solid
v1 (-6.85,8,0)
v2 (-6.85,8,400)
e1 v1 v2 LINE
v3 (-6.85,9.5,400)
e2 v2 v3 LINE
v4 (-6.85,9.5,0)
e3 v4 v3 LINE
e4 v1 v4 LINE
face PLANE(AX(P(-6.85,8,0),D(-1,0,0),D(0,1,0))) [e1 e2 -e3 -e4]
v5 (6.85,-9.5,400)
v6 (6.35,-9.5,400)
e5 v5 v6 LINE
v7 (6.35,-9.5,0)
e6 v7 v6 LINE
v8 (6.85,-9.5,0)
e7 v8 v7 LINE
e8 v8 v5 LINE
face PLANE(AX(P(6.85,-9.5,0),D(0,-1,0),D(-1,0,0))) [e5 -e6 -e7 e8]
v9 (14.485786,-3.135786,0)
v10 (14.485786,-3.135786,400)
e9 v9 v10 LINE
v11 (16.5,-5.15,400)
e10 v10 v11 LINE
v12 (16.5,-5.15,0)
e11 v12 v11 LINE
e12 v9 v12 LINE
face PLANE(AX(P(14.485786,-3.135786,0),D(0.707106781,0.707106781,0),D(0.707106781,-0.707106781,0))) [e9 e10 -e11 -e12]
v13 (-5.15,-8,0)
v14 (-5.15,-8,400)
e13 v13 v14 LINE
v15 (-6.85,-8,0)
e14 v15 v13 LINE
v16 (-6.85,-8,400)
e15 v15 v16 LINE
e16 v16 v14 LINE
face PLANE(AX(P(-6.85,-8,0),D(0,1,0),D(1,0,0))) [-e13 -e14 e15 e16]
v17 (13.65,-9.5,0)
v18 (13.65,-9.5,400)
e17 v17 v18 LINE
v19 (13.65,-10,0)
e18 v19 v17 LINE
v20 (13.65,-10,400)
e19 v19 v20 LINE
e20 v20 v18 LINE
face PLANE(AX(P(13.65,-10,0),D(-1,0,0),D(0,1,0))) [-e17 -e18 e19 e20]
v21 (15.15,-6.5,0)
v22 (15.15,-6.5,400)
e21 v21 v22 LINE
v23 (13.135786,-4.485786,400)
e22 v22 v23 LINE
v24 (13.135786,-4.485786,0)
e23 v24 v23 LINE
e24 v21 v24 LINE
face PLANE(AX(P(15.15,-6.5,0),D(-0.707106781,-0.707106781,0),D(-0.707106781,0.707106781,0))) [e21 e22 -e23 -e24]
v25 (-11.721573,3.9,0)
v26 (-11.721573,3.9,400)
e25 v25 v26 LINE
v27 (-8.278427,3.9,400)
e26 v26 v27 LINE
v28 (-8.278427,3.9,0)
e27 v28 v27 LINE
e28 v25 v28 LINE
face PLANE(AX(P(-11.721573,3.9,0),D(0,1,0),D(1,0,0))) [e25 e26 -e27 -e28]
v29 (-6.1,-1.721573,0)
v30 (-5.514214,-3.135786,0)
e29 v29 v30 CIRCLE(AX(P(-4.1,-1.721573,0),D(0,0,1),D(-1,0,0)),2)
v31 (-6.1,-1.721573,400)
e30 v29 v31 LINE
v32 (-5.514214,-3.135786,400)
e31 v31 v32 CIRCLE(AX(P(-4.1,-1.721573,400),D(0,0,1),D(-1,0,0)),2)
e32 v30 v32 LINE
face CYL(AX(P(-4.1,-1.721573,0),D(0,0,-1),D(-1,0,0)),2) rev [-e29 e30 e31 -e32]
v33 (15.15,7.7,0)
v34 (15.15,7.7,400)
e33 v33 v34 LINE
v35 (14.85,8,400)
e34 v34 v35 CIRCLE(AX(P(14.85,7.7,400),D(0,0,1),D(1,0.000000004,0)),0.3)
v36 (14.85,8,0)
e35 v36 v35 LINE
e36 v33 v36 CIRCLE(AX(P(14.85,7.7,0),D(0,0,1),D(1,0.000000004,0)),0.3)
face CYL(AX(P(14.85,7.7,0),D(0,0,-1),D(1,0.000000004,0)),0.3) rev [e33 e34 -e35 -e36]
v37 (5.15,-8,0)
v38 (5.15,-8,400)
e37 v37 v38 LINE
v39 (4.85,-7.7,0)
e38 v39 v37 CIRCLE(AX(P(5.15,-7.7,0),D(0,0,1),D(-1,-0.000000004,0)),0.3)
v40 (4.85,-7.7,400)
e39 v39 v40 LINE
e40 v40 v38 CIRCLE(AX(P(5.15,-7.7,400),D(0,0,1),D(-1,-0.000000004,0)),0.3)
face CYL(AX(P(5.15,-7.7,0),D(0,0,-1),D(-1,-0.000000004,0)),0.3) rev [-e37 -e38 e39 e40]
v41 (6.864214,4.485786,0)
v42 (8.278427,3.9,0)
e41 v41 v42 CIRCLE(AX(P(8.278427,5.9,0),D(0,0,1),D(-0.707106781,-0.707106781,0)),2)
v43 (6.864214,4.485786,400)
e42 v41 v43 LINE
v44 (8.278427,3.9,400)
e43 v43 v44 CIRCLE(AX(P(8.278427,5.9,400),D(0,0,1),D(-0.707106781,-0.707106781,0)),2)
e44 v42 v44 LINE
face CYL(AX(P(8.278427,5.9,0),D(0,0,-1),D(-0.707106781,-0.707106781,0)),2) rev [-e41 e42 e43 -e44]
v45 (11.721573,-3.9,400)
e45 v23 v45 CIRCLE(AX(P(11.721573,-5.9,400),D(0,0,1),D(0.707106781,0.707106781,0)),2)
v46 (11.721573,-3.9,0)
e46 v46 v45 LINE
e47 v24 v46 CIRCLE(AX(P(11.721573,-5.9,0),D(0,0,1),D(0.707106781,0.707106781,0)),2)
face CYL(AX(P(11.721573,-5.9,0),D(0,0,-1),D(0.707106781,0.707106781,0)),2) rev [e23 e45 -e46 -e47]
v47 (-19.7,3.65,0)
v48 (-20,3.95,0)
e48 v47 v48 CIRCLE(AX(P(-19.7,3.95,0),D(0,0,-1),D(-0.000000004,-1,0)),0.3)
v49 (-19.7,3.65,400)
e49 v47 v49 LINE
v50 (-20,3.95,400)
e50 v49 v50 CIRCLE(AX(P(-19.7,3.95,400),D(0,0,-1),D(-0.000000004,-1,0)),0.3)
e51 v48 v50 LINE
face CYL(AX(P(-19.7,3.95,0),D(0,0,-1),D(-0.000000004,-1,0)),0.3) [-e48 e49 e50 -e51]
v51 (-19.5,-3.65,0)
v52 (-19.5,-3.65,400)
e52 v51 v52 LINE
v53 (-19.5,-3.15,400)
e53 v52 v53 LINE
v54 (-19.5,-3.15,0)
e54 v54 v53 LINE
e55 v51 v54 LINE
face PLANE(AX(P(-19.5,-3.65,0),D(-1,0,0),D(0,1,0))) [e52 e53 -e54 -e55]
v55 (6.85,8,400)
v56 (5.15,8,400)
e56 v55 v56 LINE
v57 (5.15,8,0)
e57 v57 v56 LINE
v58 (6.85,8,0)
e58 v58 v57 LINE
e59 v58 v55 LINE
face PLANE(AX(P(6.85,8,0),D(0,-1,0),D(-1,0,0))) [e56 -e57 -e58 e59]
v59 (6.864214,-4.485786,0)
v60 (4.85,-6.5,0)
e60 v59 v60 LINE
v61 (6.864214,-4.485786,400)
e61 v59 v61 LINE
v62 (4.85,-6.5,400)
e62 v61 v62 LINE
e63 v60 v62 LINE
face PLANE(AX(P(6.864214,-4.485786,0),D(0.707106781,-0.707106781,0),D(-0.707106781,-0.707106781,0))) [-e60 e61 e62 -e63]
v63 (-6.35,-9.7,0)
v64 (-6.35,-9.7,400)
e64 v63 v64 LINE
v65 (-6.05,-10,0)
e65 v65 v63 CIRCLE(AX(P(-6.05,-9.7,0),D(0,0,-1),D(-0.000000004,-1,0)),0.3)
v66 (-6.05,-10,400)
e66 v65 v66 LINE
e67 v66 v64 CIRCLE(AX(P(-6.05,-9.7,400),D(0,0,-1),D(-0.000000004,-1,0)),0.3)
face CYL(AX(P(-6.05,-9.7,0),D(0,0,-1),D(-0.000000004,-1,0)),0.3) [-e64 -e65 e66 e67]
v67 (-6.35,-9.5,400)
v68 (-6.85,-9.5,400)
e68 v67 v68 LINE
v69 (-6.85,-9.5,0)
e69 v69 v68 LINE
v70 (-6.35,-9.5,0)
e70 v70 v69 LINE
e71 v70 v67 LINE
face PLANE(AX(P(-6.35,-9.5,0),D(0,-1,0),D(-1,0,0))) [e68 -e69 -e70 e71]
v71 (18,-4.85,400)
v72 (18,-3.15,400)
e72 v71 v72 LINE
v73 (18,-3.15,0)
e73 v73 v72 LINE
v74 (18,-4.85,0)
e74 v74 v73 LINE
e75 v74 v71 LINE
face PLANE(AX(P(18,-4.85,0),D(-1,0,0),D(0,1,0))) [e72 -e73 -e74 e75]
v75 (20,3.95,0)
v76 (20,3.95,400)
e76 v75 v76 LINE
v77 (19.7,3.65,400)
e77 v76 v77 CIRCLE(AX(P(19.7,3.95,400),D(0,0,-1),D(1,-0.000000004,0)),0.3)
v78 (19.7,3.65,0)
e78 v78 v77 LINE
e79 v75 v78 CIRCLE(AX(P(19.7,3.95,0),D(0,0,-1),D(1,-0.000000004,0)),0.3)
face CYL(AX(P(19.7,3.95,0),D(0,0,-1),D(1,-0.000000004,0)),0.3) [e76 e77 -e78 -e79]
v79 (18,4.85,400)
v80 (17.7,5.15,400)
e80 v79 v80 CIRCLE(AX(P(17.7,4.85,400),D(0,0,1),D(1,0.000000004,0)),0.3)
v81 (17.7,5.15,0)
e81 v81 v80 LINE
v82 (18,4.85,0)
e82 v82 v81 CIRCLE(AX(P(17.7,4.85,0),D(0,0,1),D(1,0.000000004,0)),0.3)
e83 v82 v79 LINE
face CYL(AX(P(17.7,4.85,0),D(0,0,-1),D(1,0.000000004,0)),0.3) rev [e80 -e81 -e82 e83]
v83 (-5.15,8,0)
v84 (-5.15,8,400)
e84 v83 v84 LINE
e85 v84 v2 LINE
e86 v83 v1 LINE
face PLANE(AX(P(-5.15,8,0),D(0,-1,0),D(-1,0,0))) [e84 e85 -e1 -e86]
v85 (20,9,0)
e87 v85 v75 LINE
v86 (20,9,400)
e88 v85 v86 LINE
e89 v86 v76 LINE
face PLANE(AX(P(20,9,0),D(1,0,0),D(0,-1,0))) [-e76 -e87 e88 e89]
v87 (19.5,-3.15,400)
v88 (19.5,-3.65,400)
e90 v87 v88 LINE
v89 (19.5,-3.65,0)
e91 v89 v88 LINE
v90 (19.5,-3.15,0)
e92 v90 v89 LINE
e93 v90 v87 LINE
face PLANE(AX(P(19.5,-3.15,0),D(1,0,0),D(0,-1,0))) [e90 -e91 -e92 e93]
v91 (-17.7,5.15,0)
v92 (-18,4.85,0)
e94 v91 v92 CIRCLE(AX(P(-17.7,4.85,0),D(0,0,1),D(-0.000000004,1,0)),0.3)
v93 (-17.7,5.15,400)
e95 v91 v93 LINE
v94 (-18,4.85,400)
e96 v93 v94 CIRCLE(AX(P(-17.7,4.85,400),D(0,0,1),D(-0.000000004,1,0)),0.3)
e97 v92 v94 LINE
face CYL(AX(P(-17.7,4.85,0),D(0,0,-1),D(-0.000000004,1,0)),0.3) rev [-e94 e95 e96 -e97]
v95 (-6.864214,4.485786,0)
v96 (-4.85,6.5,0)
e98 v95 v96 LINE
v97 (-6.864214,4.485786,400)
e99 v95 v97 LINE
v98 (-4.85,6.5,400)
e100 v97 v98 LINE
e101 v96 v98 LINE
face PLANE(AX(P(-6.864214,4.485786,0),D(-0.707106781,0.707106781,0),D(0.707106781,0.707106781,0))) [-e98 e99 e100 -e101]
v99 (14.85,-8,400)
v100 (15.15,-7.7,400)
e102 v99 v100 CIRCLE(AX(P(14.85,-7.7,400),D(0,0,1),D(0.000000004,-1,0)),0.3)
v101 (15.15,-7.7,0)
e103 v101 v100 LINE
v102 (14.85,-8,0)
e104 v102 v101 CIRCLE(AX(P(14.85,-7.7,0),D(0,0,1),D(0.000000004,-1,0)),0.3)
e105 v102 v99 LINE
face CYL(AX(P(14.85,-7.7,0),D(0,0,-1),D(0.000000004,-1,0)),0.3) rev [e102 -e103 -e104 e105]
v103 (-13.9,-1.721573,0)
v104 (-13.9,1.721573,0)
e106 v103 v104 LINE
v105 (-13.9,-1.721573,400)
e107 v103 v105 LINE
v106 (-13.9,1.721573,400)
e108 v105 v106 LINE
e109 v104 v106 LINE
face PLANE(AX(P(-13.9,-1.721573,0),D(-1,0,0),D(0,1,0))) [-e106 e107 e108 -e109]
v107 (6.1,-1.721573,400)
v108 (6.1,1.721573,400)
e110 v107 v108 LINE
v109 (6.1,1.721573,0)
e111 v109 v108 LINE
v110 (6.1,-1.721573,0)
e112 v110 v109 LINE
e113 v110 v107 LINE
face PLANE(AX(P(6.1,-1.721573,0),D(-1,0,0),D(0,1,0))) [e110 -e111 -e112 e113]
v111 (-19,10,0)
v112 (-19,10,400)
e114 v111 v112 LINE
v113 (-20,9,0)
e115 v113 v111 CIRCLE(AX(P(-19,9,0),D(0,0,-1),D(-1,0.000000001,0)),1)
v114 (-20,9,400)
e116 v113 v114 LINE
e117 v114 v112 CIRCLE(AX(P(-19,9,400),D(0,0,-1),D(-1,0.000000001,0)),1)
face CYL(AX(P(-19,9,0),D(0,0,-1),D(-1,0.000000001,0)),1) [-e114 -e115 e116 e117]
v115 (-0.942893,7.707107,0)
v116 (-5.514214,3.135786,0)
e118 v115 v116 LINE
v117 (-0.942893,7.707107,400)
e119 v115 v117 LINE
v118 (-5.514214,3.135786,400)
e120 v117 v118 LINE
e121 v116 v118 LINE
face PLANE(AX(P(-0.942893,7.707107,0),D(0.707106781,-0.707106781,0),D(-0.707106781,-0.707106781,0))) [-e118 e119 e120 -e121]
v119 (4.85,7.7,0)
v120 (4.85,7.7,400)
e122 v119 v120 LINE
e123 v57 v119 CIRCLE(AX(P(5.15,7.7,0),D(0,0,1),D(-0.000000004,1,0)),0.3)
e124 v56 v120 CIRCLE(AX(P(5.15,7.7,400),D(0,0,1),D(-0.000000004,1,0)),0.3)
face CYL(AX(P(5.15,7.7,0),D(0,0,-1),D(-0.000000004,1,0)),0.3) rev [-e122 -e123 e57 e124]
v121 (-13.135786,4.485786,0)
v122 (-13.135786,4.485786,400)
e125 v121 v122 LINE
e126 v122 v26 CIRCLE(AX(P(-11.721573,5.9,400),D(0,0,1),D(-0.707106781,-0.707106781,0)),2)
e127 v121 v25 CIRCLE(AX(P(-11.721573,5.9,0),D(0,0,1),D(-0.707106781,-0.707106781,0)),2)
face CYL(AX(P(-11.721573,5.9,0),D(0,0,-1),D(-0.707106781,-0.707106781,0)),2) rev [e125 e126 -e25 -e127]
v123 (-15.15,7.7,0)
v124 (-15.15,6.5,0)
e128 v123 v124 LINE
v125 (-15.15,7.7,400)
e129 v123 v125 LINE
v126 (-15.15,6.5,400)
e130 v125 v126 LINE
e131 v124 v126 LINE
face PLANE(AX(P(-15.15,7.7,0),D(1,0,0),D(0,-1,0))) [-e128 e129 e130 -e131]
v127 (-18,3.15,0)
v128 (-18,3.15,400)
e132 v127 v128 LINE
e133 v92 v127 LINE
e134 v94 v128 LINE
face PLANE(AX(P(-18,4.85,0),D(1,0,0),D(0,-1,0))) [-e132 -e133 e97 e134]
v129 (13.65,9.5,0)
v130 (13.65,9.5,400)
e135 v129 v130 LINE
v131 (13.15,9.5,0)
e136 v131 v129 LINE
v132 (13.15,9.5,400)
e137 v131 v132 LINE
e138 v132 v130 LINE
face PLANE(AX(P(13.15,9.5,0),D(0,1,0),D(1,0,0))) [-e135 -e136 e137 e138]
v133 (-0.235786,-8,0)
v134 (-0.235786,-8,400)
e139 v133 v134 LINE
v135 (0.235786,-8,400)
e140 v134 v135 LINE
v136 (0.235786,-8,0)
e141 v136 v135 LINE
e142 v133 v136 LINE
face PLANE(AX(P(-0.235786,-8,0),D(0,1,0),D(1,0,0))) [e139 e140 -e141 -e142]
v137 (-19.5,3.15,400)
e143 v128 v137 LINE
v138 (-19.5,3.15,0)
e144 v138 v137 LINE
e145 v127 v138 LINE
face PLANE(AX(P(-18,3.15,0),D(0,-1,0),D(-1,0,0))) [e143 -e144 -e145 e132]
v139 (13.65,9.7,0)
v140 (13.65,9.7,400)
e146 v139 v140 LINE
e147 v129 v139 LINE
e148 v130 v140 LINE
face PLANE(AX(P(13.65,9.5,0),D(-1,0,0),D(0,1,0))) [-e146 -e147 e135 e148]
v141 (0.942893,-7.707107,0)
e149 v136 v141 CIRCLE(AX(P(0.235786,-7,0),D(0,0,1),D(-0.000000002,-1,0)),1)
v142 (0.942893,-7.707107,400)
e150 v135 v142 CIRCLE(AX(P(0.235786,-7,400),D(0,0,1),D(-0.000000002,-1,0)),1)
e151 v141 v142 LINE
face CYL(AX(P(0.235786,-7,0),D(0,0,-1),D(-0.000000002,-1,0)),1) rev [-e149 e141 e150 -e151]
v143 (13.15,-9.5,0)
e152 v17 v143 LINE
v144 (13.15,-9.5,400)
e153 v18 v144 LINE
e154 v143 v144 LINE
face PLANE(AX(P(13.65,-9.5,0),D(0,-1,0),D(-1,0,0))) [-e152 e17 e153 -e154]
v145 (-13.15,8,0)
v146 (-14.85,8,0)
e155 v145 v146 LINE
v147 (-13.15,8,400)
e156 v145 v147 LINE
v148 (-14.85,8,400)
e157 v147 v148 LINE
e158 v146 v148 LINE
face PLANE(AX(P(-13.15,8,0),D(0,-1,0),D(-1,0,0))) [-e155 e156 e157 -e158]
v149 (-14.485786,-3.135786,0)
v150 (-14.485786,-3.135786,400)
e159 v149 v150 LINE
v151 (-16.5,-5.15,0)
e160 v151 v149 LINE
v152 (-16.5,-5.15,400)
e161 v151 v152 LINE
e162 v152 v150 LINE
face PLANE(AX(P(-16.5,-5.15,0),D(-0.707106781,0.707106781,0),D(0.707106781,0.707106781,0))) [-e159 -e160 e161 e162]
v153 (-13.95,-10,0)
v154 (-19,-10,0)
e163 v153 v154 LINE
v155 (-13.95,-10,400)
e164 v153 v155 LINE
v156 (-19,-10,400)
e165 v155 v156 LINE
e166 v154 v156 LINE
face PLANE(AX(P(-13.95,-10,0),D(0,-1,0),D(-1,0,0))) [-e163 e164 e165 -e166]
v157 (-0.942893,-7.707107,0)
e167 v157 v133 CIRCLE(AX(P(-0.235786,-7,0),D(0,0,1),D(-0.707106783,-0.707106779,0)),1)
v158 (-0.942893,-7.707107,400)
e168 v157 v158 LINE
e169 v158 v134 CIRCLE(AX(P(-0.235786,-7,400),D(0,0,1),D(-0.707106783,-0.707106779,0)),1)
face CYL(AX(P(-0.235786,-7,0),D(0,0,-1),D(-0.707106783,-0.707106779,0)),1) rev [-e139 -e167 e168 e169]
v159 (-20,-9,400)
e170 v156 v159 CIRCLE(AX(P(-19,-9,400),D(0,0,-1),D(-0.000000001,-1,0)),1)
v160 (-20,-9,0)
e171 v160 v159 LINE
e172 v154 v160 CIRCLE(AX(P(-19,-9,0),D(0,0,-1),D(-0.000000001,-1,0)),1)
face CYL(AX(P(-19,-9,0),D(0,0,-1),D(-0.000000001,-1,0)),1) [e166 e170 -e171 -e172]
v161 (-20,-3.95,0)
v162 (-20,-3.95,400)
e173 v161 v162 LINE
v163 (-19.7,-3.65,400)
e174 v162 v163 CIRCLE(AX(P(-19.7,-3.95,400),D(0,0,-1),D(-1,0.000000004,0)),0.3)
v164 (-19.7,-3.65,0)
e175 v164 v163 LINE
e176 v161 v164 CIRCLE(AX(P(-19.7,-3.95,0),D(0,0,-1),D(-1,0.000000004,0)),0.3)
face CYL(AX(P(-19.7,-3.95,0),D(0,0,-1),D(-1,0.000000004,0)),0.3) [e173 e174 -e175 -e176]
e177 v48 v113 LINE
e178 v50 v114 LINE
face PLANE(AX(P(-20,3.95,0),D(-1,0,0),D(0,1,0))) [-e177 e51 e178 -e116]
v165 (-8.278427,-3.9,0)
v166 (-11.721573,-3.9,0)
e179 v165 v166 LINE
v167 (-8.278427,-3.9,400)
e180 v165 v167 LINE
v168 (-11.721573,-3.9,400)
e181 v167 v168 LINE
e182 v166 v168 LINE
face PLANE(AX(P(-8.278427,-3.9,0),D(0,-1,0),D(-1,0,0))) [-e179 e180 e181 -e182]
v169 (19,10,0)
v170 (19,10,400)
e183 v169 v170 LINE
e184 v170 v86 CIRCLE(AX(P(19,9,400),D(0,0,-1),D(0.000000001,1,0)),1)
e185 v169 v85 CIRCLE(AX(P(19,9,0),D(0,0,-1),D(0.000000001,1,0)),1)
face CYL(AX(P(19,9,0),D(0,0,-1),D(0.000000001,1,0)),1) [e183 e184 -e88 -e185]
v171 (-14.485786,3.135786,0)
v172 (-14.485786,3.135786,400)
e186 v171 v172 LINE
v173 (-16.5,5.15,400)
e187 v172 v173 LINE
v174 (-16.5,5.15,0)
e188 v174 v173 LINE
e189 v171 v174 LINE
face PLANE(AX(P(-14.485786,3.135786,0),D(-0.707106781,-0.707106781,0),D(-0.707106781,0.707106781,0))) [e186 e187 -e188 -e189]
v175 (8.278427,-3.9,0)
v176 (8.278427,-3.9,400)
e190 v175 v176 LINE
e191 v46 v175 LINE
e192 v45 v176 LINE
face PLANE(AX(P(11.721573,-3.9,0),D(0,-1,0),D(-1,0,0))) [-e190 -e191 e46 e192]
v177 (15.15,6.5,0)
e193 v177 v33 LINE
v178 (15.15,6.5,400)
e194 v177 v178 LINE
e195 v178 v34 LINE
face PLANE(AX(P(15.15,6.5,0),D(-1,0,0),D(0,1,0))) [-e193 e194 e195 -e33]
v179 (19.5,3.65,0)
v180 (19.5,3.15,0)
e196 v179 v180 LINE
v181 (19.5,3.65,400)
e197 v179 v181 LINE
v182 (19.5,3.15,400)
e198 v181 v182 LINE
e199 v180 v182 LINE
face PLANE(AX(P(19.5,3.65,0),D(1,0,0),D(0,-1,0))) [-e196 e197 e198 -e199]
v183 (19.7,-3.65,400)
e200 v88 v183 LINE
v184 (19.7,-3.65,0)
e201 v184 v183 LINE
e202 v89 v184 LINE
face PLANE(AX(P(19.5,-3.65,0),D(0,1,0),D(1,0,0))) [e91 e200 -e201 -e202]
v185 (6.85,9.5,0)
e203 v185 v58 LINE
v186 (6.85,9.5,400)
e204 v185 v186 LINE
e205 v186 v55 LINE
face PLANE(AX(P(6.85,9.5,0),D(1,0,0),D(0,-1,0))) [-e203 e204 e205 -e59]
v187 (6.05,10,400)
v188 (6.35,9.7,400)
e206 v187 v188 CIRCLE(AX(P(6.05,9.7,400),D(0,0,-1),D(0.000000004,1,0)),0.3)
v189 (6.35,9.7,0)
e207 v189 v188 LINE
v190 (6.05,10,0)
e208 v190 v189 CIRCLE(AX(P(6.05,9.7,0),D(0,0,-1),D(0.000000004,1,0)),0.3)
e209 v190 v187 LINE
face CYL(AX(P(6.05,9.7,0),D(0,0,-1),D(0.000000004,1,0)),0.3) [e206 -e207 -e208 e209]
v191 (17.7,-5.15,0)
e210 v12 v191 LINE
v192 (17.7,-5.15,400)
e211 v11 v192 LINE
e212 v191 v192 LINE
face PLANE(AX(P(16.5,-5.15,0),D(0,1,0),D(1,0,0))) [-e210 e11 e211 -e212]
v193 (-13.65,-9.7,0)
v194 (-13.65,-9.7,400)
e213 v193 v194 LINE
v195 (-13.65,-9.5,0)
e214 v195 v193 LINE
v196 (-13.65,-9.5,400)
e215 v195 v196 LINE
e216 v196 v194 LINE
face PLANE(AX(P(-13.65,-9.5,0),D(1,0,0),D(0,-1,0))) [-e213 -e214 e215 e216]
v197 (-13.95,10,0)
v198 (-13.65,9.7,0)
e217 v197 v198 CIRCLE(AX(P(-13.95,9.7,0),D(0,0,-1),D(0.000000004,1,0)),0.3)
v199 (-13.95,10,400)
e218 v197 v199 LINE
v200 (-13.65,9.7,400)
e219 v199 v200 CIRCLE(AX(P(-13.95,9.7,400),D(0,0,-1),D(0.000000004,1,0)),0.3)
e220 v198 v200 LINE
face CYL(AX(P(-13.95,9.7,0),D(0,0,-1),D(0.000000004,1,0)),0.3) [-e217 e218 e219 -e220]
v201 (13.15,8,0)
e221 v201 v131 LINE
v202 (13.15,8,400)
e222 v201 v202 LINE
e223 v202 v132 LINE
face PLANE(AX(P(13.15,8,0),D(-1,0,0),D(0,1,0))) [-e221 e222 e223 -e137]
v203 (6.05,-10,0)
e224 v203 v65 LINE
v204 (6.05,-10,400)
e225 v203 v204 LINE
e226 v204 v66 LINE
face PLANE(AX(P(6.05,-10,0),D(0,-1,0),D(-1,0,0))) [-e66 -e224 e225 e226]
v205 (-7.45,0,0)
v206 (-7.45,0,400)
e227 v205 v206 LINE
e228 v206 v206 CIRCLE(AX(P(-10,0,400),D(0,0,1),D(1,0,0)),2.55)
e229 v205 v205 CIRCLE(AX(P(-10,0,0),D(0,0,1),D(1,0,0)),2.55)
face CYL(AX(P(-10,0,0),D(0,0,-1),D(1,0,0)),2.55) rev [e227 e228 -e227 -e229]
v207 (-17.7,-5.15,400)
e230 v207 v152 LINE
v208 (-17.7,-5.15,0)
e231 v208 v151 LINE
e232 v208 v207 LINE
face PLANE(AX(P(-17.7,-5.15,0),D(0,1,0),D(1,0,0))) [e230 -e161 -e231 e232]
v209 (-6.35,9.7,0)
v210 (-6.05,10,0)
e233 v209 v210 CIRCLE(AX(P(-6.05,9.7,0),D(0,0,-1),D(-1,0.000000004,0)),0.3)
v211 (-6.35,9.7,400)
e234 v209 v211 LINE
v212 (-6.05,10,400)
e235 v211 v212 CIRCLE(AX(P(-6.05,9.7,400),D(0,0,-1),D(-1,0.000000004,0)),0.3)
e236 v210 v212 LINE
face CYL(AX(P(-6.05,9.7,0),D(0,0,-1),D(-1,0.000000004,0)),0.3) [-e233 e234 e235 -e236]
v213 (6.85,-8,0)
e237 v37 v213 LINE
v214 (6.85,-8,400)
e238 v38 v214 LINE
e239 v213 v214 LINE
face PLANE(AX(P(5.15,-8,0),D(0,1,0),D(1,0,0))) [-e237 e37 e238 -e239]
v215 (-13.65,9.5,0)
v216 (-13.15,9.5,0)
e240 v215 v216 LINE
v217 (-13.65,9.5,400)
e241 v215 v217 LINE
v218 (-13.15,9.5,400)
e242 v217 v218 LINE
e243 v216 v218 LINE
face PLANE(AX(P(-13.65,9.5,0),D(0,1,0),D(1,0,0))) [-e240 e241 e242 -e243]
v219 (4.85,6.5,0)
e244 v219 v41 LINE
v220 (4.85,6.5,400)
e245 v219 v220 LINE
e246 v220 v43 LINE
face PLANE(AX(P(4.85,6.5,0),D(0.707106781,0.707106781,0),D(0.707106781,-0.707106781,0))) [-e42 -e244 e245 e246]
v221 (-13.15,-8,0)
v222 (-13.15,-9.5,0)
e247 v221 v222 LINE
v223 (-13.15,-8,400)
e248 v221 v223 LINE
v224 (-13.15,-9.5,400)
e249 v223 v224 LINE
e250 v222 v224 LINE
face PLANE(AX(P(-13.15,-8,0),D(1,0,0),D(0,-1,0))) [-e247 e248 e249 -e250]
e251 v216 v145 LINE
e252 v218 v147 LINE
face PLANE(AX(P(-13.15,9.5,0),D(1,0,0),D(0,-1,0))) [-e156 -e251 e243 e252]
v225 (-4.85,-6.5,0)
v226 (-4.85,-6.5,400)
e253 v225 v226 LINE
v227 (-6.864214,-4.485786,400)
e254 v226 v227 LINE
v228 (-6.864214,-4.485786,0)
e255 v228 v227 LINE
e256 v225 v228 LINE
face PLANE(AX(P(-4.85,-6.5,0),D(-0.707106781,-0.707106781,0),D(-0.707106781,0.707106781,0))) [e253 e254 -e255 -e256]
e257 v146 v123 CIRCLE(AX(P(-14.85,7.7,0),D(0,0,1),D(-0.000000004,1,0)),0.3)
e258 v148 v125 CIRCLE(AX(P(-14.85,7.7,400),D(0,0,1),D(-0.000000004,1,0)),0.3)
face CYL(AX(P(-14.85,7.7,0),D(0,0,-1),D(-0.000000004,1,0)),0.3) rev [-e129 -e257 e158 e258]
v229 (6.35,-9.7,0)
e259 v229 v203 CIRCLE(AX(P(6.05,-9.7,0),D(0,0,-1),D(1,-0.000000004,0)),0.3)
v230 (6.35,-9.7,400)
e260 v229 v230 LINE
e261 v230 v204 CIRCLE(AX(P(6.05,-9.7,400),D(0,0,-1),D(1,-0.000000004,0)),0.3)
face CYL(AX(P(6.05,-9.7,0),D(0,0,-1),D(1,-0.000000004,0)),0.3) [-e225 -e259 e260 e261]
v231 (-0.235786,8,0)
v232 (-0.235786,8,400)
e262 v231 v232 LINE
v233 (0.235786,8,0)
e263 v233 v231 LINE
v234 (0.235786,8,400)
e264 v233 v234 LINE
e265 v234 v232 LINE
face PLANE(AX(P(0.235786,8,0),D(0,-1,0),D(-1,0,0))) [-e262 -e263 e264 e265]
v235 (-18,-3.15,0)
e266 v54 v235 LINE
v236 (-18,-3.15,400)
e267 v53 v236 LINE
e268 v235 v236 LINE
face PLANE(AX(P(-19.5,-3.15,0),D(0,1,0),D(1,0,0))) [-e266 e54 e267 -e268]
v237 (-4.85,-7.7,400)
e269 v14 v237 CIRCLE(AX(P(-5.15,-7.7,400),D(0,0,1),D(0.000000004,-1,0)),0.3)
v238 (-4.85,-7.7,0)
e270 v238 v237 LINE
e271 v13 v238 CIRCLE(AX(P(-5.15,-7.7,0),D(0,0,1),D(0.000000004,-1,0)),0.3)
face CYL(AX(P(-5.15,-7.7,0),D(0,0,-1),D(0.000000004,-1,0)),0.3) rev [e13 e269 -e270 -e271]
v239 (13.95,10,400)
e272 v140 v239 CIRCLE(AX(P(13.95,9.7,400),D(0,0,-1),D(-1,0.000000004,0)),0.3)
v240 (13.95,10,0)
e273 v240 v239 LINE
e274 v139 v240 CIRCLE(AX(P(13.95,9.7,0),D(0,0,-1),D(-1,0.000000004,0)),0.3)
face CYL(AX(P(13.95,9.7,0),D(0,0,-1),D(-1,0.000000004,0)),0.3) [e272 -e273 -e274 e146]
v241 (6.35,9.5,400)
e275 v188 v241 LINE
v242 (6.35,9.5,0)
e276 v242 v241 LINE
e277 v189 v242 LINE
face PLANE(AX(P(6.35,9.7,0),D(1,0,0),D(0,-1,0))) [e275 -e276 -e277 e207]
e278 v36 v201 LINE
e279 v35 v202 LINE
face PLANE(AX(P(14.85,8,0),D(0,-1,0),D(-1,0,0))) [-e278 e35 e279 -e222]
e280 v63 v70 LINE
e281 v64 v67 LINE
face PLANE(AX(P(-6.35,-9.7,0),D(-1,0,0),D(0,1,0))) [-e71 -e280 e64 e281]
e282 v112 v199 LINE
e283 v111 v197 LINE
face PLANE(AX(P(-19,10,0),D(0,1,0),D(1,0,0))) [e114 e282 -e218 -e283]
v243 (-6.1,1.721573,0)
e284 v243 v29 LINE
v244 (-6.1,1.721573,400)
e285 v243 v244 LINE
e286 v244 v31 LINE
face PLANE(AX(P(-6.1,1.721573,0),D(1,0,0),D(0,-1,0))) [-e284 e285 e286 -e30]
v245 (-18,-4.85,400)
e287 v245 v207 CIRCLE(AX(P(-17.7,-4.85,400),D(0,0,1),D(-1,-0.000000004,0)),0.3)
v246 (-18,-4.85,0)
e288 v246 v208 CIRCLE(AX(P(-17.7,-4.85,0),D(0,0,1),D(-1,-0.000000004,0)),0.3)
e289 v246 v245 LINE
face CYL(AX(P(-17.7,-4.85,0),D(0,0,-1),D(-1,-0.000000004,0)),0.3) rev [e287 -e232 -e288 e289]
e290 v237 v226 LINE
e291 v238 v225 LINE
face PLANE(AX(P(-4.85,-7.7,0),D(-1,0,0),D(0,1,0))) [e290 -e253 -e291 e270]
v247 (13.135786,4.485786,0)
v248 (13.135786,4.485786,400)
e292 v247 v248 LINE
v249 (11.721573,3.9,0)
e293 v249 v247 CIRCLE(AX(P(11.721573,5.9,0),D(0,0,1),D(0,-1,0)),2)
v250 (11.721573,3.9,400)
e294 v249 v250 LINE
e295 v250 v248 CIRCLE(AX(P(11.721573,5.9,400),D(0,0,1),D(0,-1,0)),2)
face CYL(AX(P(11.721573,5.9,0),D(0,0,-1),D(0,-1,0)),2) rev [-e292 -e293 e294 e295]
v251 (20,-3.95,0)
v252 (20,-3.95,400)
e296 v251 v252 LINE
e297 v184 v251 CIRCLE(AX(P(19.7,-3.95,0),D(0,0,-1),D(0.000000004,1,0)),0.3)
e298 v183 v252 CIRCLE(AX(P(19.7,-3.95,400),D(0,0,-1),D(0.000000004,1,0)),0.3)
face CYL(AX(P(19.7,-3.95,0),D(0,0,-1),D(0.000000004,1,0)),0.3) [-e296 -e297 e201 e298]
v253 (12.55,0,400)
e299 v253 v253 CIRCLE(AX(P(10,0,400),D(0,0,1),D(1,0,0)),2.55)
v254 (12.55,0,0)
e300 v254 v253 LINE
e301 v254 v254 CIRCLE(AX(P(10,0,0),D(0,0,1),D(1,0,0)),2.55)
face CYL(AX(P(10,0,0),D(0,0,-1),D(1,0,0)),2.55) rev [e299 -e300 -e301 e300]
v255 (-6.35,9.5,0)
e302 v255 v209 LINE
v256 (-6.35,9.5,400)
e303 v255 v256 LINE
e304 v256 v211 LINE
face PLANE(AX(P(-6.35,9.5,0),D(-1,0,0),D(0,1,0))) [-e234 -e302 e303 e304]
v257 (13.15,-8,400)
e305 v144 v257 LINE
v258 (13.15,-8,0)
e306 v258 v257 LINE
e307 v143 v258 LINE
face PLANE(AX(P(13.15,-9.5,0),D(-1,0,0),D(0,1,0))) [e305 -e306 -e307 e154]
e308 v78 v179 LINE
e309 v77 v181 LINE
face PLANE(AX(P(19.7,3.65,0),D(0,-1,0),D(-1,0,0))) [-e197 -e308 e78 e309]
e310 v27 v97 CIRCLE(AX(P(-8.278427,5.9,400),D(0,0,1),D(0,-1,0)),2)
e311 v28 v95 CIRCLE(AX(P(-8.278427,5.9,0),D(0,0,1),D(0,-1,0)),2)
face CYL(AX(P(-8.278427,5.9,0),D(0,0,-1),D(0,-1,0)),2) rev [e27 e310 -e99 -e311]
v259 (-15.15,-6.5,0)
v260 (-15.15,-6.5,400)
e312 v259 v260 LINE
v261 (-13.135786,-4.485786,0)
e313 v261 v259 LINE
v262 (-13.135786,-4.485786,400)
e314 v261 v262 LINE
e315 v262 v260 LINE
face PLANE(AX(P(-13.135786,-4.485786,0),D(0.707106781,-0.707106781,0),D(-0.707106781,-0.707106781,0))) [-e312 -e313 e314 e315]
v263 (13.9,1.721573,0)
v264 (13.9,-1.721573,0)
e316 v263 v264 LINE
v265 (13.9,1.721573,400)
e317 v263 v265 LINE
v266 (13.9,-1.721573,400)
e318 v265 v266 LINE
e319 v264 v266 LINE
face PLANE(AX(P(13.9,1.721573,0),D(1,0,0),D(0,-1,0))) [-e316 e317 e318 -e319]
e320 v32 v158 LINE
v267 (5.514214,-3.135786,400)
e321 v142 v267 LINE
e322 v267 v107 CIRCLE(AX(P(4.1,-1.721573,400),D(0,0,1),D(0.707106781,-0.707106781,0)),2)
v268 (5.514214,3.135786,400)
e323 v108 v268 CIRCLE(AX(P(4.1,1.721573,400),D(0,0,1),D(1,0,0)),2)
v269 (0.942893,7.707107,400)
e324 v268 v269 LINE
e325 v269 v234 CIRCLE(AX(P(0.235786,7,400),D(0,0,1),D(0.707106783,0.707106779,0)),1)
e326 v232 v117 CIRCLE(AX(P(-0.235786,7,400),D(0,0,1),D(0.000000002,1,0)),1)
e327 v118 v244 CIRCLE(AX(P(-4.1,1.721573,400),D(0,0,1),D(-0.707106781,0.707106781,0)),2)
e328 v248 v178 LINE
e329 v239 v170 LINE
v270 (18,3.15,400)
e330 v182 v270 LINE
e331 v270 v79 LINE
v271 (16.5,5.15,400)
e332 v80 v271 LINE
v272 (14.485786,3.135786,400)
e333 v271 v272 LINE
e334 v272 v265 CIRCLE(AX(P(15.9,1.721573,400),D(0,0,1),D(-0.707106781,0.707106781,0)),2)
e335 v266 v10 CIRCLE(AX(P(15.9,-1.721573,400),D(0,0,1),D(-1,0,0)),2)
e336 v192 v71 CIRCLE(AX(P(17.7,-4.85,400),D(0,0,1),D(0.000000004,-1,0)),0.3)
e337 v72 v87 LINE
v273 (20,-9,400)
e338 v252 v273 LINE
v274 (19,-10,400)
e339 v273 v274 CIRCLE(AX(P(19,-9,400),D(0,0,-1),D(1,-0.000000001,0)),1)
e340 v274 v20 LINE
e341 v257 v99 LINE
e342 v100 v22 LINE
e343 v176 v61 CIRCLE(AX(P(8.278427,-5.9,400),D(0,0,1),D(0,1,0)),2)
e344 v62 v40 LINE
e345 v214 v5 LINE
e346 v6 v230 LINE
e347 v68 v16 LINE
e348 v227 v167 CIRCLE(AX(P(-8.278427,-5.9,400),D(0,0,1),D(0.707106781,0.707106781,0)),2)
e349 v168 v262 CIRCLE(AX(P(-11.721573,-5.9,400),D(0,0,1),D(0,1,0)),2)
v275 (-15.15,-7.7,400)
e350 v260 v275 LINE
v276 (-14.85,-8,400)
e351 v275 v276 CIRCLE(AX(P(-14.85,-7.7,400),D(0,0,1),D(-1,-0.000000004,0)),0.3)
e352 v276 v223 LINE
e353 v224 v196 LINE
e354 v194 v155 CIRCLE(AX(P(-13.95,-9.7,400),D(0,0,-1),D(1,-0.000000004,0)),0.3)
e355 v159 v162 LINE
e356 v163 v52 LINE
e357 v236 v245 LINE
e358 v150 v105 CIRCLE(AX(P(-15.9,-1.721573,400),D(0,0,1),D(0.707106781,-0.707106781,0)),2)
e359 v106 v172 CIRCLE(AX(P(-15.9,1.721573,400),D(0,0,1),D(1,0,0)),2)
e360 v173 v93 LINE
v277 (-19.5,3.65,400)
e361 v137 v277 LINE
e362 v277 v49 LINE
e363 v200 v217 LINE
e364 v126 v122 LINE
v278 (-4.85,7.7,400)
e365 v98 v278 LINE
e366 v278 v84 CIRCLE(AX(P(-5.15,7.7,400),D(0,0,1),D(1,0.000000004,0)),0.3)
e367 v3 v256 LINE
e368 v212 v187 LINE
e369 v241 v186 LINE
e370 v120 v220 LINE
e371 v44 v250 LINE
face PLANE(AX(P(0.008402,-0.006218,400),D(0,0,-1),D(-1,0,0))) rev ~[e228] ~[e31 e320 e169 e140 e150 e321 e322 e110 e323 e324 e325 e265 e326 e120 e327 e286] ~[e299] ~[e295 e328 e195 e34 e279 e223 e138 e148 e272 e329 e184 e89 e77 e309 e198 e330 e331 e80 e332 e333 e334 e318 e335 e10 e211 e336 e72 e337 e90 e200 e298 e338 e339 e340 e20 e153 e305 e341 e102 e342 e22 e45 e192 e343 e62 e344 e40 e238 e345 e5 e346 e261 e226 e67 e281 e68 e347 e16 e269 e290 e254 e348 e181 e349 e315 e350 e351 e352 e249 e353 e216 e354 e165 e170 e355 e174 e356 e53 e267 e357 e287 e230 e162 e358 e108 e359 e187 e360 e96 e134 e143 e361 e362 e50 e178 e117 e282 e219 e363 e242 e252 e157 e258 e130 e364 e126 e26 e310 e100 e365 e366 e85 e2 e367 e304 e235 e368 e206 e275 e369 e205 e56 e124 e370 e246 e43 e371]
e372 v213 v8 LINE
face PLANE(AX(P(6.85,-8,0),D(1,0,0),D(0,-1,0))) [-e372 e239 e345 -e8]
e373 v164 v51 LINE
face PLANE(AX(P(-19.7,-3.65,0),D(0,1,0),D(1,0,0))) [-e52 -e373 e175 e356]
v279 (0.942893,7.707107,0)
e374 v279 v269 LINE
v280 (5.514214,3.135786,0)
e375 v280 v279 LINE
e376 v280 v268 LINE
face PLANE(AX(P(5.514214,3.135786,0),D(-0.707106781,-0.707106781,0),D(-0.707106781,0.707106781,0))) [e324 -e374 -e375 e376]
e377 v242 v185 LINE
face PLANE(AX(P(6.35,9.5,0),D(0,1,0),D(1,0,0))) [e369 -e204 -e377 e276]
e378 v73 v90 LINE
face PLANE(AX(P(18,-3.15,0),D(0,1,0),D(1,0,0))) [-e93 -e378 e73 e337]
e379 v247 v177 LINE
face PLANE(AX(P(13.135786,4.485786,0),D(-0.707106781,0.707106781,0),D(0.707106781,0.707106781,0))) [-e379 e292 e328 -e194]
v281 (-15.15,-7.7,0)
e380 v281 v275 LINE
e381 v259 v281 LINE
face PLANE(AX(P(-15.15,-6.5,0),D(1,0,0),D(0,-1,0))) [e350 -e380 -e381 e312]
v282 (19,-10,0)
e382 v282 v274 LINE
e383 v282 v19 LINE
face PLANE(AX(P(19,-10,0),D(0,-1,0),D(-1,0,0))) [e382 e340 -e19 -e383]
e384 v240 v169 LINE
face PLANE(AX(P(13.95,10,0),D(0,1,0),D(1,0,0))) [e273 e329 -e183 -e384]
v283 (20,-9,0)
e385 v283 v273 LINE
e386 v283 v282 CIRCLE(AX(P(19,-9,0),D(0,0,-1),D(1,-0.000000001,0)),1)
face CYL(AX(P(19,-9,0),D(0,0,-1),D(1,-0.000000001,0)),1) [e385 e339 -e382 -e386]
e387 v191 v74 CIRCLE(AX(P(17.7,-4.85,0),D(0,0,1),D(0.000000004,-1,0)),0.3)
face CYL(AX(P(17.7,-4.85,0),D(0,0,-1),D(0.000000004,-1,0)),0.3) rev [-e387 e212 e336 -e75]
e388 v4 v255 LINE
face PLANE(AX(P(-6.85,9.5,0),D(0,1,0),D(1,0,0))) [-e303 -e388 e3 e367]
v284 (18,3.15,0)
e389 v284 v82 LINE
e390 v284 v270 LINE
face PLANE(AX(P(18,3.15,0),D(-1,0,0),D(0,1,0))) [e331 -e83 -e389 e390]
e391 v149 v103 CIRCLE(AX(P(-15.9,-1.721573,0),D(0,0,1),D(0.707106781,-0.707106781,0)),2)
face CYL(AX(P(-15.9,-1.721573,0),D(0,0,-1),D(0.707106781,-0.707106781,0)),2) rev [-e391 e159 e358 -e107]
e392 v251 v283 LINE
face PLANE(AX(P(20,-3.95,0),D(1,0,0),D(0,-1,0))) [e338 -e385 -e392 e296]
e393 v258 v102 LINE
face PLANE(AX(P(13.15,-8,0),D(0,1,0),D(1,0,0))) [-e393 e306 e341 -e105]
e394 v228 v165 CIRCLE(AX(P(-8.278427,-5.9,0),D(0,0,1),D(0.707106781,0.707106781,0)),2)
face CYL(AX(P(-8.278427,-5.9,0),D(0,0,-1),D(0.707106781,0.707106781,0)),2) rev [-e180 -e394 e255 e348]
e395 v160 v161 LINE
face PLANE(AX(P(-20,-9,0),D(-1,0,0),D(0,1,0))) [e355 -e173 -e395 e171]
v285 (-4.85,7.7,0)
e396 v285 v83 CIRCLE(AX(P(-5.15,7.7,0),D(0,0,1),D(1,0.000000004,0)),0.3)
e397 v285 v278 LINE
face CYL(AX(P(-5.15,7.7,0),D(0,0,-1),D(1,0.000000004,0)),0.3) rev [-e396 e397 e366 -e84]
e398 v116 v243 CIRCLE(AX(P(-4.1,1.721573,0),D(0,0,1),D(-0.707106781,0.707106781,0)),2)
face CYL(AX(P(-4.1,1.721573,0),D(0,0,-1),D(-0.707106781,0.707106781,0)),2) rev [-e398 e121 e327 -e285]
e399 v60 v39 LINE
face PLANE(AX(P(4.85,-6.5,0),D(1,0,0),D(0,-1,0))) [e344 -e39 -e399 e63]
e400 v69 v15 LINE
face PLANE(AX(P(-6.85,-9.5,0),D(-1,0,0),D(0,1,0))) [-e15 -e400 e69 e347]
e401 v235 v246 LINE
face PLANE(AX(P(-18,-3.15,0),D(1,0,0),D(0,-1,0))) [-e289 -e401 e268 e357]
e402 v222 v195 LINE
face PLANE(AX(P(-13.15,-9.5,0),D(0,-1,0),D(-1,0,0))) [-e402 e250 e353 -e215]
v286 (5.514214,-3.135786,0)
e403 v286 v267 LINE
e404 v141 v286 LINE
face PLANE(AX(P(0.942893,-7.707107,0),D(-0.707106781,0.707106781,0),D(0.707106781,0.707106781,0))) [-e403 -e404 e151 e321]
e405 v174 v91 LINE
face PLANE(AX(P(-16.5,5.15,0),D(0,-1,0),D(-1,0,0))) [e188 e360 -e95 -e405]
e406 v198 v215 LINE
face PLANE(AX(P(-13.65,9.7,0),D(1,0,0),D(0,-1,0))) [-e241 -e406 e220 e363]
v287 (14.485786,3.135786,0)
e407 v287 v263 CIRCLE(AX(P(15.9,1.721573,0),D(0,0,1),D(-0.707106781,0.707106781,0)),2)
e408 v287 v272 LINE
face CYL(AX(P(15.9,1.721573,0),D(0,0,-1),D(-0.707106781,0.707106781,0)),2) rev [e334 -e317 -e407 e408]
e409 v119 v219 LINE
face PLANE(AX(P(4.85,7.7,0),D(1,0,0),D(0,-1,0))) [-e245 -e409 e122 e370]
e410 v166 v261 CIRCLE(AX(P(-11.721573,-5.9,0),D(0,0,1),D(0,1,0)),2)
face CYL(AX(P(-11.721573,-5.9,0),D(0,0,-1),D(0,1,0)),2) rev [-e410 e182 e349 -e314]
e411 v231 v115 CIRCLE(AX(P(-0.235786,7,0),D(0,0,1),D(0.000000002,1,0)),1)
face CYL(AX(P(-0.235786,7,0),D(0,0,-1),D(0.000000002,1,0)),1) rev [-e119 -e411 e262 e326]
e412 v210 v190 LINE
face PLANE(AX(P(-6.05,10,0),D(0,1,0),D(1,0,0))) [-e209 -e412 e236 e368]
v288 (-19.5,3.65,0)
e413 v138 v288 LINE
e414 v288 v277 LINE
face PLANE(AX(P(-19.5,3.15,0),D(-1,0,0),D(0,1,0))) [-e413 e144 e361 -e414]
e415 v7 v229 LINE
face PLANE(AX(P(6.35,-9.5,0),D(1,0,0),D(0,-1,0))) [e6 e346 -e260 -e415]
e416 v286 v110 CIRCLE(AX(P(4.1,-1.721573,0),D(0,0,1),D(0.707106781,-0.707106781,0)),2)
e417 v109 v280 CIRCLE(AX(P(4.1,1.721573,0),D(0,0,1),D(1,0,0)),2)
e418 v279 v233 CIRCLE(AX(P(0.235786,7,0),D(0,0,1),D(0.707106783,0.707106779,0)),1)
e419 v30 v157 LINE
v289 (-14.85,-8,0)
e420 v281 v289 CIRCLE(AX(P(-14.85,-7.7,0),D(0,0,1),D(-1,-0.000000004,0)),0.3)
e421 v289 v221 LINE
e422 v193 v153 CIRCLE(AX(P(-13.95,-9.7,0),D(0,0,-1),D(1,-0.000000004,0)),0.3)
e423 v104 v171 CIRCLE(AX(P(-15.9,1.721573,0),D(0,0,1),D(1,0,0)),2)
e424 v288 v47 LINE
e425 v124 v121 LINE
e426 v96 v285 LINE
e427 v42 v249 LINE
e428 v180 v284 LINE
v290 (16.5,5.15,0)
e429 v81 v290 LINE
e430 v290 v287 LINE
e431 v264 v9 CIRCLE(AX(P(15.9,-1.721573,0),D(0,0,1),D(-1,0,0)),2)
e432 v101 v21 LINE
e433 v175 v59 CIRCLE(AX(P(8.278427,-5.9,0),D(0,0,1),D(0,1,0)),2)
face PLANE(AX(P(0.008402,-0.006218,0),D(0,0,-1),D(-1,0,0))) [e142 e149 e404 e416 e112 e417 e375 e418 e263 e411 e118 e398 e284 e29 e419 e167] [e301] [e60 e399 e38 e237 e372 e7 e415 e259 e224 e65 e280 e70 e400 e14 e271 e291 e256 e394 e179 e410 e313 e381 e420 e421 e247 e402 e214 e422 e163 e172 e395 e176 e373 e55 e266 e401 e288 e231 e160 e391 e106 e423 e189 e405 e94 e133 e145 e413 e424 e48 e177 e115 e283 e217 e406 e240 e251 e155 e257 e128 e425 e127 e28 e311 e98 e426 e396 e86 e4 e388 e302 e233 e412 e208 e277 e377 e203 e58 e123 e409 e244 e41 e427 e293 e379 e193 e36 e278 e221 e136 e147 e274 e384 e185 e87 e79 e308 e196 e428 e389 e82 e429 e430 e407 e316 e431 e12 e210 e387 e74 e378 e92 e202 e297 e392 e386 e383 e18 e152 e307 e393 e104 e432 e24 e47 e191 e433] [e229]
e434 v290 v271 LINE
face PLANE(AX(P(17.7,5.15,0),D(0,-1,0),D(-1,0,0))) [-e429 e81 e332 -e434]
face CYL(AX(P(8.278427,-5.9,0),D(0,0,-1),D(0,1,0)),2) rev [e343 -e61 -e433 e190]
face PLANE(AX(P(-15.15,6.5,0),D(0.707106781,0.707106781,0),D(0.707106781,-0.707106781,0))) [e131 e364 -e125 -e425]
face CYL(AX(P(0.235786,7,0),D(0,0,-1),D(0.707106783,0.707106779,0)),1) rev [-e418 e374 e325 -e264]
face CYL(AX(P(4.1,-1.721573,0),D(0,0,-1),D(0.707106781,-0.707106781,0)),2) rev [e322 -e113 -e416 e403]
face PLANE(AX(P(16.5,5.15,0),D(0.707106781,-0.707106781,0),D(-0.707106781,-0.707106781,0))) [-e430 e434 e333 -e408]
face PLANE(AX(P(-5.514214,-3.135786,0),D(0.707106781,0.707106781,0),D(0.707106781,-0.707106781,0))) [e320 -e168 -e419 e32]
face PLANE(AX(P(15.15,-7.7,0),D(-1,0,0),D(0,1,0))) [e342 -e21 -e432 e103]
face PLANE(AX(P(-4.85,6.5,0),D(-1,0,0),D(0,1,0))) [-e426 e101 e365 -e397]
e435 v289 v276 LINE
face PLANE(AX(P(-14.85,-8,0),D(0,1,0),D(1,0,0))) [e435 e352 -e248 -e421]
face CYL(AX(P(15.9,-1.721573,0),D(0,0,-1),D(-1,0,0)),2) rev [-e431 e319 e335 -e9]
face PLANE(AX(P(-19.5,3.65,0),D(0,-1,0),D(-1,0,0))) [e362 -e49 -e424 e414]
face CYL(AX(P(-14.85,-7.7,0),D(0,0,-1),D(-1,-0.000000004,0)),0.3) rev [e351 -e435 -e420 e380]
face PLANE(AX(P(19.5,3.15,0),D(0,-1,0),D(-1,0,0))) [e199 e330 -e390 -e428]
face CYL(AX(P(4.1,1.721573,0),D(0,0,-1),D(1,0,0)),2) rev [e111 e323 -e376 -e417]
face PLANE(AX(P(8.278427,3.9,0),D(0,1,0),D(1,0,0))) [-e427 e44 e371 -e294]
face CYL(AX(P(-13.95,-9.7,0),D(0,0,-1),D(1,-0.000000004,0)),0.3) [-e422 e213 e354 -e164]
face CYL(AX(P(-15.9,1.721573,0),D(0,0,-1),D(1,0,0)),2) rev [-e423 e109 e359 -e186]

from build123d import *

# Parameters (mm, degrees)
CROQUIS1_R              = 2.55
SALIENTE_EXTRUIR1_DEPTH = 400


with BuildPart() as part:
    # Croquis1 → Saliente-Extruir1 (new body)
    with BuildSketch(Plane.XY):
        with BuildLine():
            Line((-20, -9), (-20, -3.95))
            ThreePointArc((-20, -3.95), (-19.912132034, -3.737867966), (-19.7, -3.65))
            Line((-19.7, -3.65), (-19.5, -3.65))
            Line((-19.5, -3.65), (-19.5, -3.15))
            Line((-19.5, -3.15), (-18, -3.15))
            Line((-18, -3.15), (-18, -4.85))
            ThreePointArc((-18, -4.85), (-17.912132034, -5.062132034), (-17.7, -5.15))
            Line((-17.7, -5.15), (-16.5, -5.15))
            Line((-16.5, -5.15), (-14.485786438, -3.135786438))
            ThreePointArc((-14.485786438, -3.135786438), (-14.052240935, -2.48693974), (-13.9, -1.721572875))
            Line((-13.9, -1.721572875), (-13.9, 1.721572875))
            ThreePointArc((-13.9, 1.721572875), (-14.052240935, 2.48693974), (-14.485786438, 3.135786438))
            Line((-14.485786438, 3.135786438), (-16.5, 5.15))
            Line((-16.5, 5.15), (-17.7, 5.15))
            ThreePointArc((-17.7, 5.15), (-17.912132034, 5.062132034), (-18, 4.85))
            Line((-18, 4.85), (-18, 3.15))
            Line((-18, 3.15), (-19.5, 3.15))
            Line((-19.5, 3.15), (-19.5, 3.65))
            Line((-19.5, 3.65), (-19.7, 3.65))
            ThreePointArc((-19.7, 3.65), (-19.912132034, 3.737867966), (-20, 3.95))
            Line((-20, 3.95), (-20, 9))
            ThreePointArc((-20, 9), (-19.707106781, 9.707106781), (-19, 10))
            Line((-19, 10), (-13.95, 10))
            ThreePointArc((-13.95, 10), (-13.737867966, 9.912132034), (-13.65, 9.7))
            Line((-13.65, 9.7), (-13.65, 9.5))
            Line((-13.65, 9.5), (-13.15, 9.5))
            Line((-13.15, 9.5), (-13.15, 8))
            Line((-13.15, 8), (-14.85, 8))
            ThreePointArc((-14.85, 8), (-15.062132034, 7.912132034), (-15.15, 7.7))
            Line((-15.15, 7.7), (-15.15, 6.5))
            Line((-15.15, 6.5), (-13.135786438, 4.485786438))
            ThreePointArc((-13.135786438, 4.485786438), (-12.48693974, 4.052240935), (-11.721572875, 3.9))
            Line((-11.721572875, 3.9), (-8.278427125, 3.9))
            ThreePointArc((-8.278427125, 3.9), (-7.51306026, 4.052240935), (-6.864213562, 4.485786438))
            Line((-6.864213562, 4.485786438), (-4.85, 6.5))
            Line((-4.85, 6.5), (-4.85, 7.7))
            ThreePointArc((-4.85, 7.7), (-4.937867966, 7.912132034), (-5.15, 8))
            Line((-5.15, 8), (-6.85, 8))
            Line((-6.85, 8), (-6.85, 9.5))
            Line((-6.85, 9.5), (-6.35, 9.5))
            Line((-6.35, 9.5), (-6.35, 9.7))
            ThreePointArc((-6.35, 9.7), (-6.262132034, 9.912132034), (-6.05, 10))
            Line((-6.05, 10), (6.05, 10))
            ThreePointArc((6.05, 10), (6.262132034, 9.912132034), (6.35, 9.7))
            Line((6.35, 9.7), (6.35, 9.5))
            Line((6.35, 9.5), (6.85, 9.5))
            Line((6.85, 9.5), (6.85, 8))
            Line((6.85, 8), (5.15, 8))
            ThreePointArc((5.15, 8), (4.937867966, 7.912132034), (4.85, 7.7))
            Line((4.85, 7.7), (4.85, 6.5))
            Line((4.85, 6.5), (6.864213562, 4.485786438))
            ThreePointArc((6.864213562, 4.485786438), (7.51306026, 4.052240935), (8.278427125, 3.9))
            Line((8.278427125, 3.9), (11.721572875, 3.9))
            ThreePointArc((11.721572875, 3.9), (12.48693974, 4.052240935), (13.135786438, 4.485786438))
            Line((13.135786438, 4.485786438), (15.15, 6.5))
            Line((15.15, 6.5), (15.15, 7.7))
            ThreePointArc((15.15, 7.7), (15.062132034, 7.912132034), (14.85, 8))
            Line((14.85, 8), (13.15, 8))
            Line((13.15, 8), (13.15, 9.5))
            Line((13.15, 9.5), (13.65, 9.5))
            Line((13.65, 9.5), (13.65, 9.7))
            ThreePointArc((13.65, 9.7), (13.737867966, 9.912132034), (13.95, 10))
            Line((13.95, 10), (19, 10))
            ThreePointArc((19, 10), (19.707106781, 9.707106781), (20, 9))
            Line((20, 9), (20, 3.95))
            ThreePointArc((20, 3.95), (19.912132034, 3.737867966), (19.7, 3.65))
            Line((19.7, 3.65), (19.5, 3.65))
            Line((19.5, 3.65), (19.5, 3.15))
            Line((19.5, 3.15), (18, 3.15))
            Line((18, 3.15), (18, 4.85))
            ThreePointArc((18, 4.85), (17.912132034, 5.062132034), (17.7, 5.15))
            Line((17.7, 5.15), (16.5, 5.15))
            Line((16.5, 5.15), (14.485786438, 3.135786438))
            ThreePointArc((14.485786438, 3.135786438), (14.052240935, 2.48693974), (13.9, 1.721572875))
            Line((13.9, 1.721572875), (13.9, -1.721572875))
            ThreePointArc((13.9, -1.721572875), (14.052240935, -2.48693974), (14.485786438, -3.135786438))
            Line((14.485786438, -3.135786438), (16.5, -5.15))
            Line((16.5, -5.15), (17.7, -5.15))
            ThreePointArc((17.7, -5.15), (17.912132034, -5.062132034), (18, -4.85))
            Line((18, -4.85), (18, -3.15))
            Line((18, -3.15), (19.5, -3.15))
            Line((19.5, -3.15), (19.5, -3.65))
            Line((19.5, -3.65), (19.7, -3.65))
            ThreePointArc((19.7, -3.65), (19.912132034, -3.737867966), (20, -3.95))
            Line((20, -3.95), (20, -9))
            ThreePointArc((20, -9), (19.707106781, -9.707106781), (19, -10))
            Line((19, -10), (13.65, -10))
            Line((13.65, -10), (13.65, -9.5))
            Line((13.65, -9.5), (13.15, -9.5))
            Line((13.15, -9.5), (13.15, -8))
            Line((13.15, -8), (14.85, -8))
            ThreePointArc((14.85, -8), (15.062132034, -7.912132034), (15.15, -7.7))
            Line((15.15, -7.7), (15.15, -6.5))
            Line((15.15, -6.5), (13.135786438, -4.485786438))
            ThreePointArc((13.135786438, -4.485786438), (12.48693974, -4.052240935), (11.721572875, -3.9))
            Line((11.721572875, -3.9), (8.278427125, -3.9))
            ThreePointArc((8.278427125, -3.9), (7.51306026, -4.052240935), (6.864213562, -4.485786438))
            Line((6.864213562, -4.485786438), (4.85, -6.5))
            Line((4.85, -6.5), (4.85, -7.7))
            ThreePointArc((4.85, -7.7), (4.937867966, -7.912132034), (5.15, -8))
            Line((5.15, -8), (6.85, -8))
            Line((6.85, -8), (6.85, -9.5))
            Line((6.85, -9.5), (6.35, -9.5))
            Line((6.35, -9.5), (6.35, -9.7))
            ThreePointArc((6.35, -9.7), (6.262132034, -9.912132034), (6.05, -10))
            Line((6.05, -10), (0, -10))
            Line((0, -10), (-6.05, -10))
            ThreePointArc((-6.05, -10), (-6.262132034, -9.912132034), (-6.35, -9.7))
            Line((-6.35, -9.7), (-6.35, -9.5))
            Line((-6.35, -9.5), (-6.85, -9.5))
            Line((-6.85, -9.5), (-6.85, -8))
            Line((-6.85, -8), (-5.15, -8))
            ThreePointArc((-5.15, -8), (-4.937867966, -7.912132034), (-4.85, -7.7))
            Line((-4.85, -7.7), (-4.85, -6.5))
            Line((-4.85, -6.5), (-6.864213562, -4.485786438))
            ThreePointArc((-6.864213562, -4.485786438), (-7.51306026, -4.052240935), (-8.278427125, -3.9))
            Line((-8.278427125, -3.9), (-11.721572875, -3.9))
            ThreePointArc((-11.721572875, -3.9), (-12.48693974, -4.052240935), (-13.135786438, -4.485786438))
            Line((-13.135786438, -4.485786438), (-15.15, -6.5))
            Line((-15.15, -6.5), (-15.15, -7.7))
            ThreePointArc((-15.15, -7.7), (-15.062132034, -7.912132034), (-14.85, -8))
            Line((-14.85, -8), (-13.15, -8))
            Line((-13.15, -8), (-13.15, -9.5))
            Line((-13.15, -9.5), (-13.65, -9.5))
            Line((-13.65, -9.5), (-13.65, -9.7))
            ThreePointArc((-13.65, -9.7), (-13.737867966, -9.912132034), (-13.95, -10))
            Line((-13.95, -10), (-19, -10))
            ThreePointArc((-19, -10), (-19.707106781, -9.707106781), (-20, -9))
        make_face()
        with Locations((-10, 0)):
            Circle(CROQUIS1_R, mode=Mode.SUBTRACT)
        with Locations((10, 0)):
            Circle(CROQUIS1_R, mode=Mode.SUBTRACT)
        with BuildLine():
            Line((-6.1, 1.721572875), (-6.1, -1.721572875))
            ThreePointArc((-6.1, -1.721572875), (-5.947759065, -2.48693974), (-5.514213562, -3.135786438))
            Line((-5.514213562, -3.135786438), (-3.5, -5.15))
            Line((-3.5, -5.15), (-0.942893219, -7.707106781))
            ThreePointArc((-0.942893219, -7.707106781), (-0.61846987, -7.923879533), (-0.235786438, -8))
            Line((-0.235786438, -8), (0.235786438, -8))
            ThreePointArc((0.235786438, -8), (0.61846987, -7.923879533), (0.942893219, -7.707106781))
            Line((0.942893219, -7.707106781), (3.5, -5.15))
            Line((3.5, -5.15), (5.514213562, -3.135786438))
            ThreePointArc((5.514213562, -3.135786438), (5.947759065, -2.48693974), (6.1, -1.721572875))
            Line((6.1, -1.721572875), (6.1, 1.721572875))
            ThreePointArc((6.1, 1.721572875), (5.947759065, 2.48693974), (5.514213562, 3.135786438))
            Line((5.514213562, 3.135786438), (3.5, 5.15))
            Line((3.5, 5.15), (0.942893219, 7.707106781))
            ThreePointArc((0.942893219, 7.707106781), (0.61846987, 7.923879533), (0.235786438, 8))
            Line((0.235786438, 8), (-0.235786438, 8))
            ThreePointArc((-0.235786438, 8), (-0.61846987, 7.923879533), (-0.942893219, 7.707106781))
            Line((-0.942893219, 7.707106781), (-3.5, 5.15))
            Line((-3.5, 5.15), (-5.514213562, 3.135786438))
            ThreePointArc((-5.514213562, 3.135786438), (-5.947759065, 2.48693974), (-6.1, 1.721572875))
        make_face(mode=Mode.SUBTRACT)
    extrude(amount=SALIENTE_EXTRUIR1_DEPTH)


solid = part.part
